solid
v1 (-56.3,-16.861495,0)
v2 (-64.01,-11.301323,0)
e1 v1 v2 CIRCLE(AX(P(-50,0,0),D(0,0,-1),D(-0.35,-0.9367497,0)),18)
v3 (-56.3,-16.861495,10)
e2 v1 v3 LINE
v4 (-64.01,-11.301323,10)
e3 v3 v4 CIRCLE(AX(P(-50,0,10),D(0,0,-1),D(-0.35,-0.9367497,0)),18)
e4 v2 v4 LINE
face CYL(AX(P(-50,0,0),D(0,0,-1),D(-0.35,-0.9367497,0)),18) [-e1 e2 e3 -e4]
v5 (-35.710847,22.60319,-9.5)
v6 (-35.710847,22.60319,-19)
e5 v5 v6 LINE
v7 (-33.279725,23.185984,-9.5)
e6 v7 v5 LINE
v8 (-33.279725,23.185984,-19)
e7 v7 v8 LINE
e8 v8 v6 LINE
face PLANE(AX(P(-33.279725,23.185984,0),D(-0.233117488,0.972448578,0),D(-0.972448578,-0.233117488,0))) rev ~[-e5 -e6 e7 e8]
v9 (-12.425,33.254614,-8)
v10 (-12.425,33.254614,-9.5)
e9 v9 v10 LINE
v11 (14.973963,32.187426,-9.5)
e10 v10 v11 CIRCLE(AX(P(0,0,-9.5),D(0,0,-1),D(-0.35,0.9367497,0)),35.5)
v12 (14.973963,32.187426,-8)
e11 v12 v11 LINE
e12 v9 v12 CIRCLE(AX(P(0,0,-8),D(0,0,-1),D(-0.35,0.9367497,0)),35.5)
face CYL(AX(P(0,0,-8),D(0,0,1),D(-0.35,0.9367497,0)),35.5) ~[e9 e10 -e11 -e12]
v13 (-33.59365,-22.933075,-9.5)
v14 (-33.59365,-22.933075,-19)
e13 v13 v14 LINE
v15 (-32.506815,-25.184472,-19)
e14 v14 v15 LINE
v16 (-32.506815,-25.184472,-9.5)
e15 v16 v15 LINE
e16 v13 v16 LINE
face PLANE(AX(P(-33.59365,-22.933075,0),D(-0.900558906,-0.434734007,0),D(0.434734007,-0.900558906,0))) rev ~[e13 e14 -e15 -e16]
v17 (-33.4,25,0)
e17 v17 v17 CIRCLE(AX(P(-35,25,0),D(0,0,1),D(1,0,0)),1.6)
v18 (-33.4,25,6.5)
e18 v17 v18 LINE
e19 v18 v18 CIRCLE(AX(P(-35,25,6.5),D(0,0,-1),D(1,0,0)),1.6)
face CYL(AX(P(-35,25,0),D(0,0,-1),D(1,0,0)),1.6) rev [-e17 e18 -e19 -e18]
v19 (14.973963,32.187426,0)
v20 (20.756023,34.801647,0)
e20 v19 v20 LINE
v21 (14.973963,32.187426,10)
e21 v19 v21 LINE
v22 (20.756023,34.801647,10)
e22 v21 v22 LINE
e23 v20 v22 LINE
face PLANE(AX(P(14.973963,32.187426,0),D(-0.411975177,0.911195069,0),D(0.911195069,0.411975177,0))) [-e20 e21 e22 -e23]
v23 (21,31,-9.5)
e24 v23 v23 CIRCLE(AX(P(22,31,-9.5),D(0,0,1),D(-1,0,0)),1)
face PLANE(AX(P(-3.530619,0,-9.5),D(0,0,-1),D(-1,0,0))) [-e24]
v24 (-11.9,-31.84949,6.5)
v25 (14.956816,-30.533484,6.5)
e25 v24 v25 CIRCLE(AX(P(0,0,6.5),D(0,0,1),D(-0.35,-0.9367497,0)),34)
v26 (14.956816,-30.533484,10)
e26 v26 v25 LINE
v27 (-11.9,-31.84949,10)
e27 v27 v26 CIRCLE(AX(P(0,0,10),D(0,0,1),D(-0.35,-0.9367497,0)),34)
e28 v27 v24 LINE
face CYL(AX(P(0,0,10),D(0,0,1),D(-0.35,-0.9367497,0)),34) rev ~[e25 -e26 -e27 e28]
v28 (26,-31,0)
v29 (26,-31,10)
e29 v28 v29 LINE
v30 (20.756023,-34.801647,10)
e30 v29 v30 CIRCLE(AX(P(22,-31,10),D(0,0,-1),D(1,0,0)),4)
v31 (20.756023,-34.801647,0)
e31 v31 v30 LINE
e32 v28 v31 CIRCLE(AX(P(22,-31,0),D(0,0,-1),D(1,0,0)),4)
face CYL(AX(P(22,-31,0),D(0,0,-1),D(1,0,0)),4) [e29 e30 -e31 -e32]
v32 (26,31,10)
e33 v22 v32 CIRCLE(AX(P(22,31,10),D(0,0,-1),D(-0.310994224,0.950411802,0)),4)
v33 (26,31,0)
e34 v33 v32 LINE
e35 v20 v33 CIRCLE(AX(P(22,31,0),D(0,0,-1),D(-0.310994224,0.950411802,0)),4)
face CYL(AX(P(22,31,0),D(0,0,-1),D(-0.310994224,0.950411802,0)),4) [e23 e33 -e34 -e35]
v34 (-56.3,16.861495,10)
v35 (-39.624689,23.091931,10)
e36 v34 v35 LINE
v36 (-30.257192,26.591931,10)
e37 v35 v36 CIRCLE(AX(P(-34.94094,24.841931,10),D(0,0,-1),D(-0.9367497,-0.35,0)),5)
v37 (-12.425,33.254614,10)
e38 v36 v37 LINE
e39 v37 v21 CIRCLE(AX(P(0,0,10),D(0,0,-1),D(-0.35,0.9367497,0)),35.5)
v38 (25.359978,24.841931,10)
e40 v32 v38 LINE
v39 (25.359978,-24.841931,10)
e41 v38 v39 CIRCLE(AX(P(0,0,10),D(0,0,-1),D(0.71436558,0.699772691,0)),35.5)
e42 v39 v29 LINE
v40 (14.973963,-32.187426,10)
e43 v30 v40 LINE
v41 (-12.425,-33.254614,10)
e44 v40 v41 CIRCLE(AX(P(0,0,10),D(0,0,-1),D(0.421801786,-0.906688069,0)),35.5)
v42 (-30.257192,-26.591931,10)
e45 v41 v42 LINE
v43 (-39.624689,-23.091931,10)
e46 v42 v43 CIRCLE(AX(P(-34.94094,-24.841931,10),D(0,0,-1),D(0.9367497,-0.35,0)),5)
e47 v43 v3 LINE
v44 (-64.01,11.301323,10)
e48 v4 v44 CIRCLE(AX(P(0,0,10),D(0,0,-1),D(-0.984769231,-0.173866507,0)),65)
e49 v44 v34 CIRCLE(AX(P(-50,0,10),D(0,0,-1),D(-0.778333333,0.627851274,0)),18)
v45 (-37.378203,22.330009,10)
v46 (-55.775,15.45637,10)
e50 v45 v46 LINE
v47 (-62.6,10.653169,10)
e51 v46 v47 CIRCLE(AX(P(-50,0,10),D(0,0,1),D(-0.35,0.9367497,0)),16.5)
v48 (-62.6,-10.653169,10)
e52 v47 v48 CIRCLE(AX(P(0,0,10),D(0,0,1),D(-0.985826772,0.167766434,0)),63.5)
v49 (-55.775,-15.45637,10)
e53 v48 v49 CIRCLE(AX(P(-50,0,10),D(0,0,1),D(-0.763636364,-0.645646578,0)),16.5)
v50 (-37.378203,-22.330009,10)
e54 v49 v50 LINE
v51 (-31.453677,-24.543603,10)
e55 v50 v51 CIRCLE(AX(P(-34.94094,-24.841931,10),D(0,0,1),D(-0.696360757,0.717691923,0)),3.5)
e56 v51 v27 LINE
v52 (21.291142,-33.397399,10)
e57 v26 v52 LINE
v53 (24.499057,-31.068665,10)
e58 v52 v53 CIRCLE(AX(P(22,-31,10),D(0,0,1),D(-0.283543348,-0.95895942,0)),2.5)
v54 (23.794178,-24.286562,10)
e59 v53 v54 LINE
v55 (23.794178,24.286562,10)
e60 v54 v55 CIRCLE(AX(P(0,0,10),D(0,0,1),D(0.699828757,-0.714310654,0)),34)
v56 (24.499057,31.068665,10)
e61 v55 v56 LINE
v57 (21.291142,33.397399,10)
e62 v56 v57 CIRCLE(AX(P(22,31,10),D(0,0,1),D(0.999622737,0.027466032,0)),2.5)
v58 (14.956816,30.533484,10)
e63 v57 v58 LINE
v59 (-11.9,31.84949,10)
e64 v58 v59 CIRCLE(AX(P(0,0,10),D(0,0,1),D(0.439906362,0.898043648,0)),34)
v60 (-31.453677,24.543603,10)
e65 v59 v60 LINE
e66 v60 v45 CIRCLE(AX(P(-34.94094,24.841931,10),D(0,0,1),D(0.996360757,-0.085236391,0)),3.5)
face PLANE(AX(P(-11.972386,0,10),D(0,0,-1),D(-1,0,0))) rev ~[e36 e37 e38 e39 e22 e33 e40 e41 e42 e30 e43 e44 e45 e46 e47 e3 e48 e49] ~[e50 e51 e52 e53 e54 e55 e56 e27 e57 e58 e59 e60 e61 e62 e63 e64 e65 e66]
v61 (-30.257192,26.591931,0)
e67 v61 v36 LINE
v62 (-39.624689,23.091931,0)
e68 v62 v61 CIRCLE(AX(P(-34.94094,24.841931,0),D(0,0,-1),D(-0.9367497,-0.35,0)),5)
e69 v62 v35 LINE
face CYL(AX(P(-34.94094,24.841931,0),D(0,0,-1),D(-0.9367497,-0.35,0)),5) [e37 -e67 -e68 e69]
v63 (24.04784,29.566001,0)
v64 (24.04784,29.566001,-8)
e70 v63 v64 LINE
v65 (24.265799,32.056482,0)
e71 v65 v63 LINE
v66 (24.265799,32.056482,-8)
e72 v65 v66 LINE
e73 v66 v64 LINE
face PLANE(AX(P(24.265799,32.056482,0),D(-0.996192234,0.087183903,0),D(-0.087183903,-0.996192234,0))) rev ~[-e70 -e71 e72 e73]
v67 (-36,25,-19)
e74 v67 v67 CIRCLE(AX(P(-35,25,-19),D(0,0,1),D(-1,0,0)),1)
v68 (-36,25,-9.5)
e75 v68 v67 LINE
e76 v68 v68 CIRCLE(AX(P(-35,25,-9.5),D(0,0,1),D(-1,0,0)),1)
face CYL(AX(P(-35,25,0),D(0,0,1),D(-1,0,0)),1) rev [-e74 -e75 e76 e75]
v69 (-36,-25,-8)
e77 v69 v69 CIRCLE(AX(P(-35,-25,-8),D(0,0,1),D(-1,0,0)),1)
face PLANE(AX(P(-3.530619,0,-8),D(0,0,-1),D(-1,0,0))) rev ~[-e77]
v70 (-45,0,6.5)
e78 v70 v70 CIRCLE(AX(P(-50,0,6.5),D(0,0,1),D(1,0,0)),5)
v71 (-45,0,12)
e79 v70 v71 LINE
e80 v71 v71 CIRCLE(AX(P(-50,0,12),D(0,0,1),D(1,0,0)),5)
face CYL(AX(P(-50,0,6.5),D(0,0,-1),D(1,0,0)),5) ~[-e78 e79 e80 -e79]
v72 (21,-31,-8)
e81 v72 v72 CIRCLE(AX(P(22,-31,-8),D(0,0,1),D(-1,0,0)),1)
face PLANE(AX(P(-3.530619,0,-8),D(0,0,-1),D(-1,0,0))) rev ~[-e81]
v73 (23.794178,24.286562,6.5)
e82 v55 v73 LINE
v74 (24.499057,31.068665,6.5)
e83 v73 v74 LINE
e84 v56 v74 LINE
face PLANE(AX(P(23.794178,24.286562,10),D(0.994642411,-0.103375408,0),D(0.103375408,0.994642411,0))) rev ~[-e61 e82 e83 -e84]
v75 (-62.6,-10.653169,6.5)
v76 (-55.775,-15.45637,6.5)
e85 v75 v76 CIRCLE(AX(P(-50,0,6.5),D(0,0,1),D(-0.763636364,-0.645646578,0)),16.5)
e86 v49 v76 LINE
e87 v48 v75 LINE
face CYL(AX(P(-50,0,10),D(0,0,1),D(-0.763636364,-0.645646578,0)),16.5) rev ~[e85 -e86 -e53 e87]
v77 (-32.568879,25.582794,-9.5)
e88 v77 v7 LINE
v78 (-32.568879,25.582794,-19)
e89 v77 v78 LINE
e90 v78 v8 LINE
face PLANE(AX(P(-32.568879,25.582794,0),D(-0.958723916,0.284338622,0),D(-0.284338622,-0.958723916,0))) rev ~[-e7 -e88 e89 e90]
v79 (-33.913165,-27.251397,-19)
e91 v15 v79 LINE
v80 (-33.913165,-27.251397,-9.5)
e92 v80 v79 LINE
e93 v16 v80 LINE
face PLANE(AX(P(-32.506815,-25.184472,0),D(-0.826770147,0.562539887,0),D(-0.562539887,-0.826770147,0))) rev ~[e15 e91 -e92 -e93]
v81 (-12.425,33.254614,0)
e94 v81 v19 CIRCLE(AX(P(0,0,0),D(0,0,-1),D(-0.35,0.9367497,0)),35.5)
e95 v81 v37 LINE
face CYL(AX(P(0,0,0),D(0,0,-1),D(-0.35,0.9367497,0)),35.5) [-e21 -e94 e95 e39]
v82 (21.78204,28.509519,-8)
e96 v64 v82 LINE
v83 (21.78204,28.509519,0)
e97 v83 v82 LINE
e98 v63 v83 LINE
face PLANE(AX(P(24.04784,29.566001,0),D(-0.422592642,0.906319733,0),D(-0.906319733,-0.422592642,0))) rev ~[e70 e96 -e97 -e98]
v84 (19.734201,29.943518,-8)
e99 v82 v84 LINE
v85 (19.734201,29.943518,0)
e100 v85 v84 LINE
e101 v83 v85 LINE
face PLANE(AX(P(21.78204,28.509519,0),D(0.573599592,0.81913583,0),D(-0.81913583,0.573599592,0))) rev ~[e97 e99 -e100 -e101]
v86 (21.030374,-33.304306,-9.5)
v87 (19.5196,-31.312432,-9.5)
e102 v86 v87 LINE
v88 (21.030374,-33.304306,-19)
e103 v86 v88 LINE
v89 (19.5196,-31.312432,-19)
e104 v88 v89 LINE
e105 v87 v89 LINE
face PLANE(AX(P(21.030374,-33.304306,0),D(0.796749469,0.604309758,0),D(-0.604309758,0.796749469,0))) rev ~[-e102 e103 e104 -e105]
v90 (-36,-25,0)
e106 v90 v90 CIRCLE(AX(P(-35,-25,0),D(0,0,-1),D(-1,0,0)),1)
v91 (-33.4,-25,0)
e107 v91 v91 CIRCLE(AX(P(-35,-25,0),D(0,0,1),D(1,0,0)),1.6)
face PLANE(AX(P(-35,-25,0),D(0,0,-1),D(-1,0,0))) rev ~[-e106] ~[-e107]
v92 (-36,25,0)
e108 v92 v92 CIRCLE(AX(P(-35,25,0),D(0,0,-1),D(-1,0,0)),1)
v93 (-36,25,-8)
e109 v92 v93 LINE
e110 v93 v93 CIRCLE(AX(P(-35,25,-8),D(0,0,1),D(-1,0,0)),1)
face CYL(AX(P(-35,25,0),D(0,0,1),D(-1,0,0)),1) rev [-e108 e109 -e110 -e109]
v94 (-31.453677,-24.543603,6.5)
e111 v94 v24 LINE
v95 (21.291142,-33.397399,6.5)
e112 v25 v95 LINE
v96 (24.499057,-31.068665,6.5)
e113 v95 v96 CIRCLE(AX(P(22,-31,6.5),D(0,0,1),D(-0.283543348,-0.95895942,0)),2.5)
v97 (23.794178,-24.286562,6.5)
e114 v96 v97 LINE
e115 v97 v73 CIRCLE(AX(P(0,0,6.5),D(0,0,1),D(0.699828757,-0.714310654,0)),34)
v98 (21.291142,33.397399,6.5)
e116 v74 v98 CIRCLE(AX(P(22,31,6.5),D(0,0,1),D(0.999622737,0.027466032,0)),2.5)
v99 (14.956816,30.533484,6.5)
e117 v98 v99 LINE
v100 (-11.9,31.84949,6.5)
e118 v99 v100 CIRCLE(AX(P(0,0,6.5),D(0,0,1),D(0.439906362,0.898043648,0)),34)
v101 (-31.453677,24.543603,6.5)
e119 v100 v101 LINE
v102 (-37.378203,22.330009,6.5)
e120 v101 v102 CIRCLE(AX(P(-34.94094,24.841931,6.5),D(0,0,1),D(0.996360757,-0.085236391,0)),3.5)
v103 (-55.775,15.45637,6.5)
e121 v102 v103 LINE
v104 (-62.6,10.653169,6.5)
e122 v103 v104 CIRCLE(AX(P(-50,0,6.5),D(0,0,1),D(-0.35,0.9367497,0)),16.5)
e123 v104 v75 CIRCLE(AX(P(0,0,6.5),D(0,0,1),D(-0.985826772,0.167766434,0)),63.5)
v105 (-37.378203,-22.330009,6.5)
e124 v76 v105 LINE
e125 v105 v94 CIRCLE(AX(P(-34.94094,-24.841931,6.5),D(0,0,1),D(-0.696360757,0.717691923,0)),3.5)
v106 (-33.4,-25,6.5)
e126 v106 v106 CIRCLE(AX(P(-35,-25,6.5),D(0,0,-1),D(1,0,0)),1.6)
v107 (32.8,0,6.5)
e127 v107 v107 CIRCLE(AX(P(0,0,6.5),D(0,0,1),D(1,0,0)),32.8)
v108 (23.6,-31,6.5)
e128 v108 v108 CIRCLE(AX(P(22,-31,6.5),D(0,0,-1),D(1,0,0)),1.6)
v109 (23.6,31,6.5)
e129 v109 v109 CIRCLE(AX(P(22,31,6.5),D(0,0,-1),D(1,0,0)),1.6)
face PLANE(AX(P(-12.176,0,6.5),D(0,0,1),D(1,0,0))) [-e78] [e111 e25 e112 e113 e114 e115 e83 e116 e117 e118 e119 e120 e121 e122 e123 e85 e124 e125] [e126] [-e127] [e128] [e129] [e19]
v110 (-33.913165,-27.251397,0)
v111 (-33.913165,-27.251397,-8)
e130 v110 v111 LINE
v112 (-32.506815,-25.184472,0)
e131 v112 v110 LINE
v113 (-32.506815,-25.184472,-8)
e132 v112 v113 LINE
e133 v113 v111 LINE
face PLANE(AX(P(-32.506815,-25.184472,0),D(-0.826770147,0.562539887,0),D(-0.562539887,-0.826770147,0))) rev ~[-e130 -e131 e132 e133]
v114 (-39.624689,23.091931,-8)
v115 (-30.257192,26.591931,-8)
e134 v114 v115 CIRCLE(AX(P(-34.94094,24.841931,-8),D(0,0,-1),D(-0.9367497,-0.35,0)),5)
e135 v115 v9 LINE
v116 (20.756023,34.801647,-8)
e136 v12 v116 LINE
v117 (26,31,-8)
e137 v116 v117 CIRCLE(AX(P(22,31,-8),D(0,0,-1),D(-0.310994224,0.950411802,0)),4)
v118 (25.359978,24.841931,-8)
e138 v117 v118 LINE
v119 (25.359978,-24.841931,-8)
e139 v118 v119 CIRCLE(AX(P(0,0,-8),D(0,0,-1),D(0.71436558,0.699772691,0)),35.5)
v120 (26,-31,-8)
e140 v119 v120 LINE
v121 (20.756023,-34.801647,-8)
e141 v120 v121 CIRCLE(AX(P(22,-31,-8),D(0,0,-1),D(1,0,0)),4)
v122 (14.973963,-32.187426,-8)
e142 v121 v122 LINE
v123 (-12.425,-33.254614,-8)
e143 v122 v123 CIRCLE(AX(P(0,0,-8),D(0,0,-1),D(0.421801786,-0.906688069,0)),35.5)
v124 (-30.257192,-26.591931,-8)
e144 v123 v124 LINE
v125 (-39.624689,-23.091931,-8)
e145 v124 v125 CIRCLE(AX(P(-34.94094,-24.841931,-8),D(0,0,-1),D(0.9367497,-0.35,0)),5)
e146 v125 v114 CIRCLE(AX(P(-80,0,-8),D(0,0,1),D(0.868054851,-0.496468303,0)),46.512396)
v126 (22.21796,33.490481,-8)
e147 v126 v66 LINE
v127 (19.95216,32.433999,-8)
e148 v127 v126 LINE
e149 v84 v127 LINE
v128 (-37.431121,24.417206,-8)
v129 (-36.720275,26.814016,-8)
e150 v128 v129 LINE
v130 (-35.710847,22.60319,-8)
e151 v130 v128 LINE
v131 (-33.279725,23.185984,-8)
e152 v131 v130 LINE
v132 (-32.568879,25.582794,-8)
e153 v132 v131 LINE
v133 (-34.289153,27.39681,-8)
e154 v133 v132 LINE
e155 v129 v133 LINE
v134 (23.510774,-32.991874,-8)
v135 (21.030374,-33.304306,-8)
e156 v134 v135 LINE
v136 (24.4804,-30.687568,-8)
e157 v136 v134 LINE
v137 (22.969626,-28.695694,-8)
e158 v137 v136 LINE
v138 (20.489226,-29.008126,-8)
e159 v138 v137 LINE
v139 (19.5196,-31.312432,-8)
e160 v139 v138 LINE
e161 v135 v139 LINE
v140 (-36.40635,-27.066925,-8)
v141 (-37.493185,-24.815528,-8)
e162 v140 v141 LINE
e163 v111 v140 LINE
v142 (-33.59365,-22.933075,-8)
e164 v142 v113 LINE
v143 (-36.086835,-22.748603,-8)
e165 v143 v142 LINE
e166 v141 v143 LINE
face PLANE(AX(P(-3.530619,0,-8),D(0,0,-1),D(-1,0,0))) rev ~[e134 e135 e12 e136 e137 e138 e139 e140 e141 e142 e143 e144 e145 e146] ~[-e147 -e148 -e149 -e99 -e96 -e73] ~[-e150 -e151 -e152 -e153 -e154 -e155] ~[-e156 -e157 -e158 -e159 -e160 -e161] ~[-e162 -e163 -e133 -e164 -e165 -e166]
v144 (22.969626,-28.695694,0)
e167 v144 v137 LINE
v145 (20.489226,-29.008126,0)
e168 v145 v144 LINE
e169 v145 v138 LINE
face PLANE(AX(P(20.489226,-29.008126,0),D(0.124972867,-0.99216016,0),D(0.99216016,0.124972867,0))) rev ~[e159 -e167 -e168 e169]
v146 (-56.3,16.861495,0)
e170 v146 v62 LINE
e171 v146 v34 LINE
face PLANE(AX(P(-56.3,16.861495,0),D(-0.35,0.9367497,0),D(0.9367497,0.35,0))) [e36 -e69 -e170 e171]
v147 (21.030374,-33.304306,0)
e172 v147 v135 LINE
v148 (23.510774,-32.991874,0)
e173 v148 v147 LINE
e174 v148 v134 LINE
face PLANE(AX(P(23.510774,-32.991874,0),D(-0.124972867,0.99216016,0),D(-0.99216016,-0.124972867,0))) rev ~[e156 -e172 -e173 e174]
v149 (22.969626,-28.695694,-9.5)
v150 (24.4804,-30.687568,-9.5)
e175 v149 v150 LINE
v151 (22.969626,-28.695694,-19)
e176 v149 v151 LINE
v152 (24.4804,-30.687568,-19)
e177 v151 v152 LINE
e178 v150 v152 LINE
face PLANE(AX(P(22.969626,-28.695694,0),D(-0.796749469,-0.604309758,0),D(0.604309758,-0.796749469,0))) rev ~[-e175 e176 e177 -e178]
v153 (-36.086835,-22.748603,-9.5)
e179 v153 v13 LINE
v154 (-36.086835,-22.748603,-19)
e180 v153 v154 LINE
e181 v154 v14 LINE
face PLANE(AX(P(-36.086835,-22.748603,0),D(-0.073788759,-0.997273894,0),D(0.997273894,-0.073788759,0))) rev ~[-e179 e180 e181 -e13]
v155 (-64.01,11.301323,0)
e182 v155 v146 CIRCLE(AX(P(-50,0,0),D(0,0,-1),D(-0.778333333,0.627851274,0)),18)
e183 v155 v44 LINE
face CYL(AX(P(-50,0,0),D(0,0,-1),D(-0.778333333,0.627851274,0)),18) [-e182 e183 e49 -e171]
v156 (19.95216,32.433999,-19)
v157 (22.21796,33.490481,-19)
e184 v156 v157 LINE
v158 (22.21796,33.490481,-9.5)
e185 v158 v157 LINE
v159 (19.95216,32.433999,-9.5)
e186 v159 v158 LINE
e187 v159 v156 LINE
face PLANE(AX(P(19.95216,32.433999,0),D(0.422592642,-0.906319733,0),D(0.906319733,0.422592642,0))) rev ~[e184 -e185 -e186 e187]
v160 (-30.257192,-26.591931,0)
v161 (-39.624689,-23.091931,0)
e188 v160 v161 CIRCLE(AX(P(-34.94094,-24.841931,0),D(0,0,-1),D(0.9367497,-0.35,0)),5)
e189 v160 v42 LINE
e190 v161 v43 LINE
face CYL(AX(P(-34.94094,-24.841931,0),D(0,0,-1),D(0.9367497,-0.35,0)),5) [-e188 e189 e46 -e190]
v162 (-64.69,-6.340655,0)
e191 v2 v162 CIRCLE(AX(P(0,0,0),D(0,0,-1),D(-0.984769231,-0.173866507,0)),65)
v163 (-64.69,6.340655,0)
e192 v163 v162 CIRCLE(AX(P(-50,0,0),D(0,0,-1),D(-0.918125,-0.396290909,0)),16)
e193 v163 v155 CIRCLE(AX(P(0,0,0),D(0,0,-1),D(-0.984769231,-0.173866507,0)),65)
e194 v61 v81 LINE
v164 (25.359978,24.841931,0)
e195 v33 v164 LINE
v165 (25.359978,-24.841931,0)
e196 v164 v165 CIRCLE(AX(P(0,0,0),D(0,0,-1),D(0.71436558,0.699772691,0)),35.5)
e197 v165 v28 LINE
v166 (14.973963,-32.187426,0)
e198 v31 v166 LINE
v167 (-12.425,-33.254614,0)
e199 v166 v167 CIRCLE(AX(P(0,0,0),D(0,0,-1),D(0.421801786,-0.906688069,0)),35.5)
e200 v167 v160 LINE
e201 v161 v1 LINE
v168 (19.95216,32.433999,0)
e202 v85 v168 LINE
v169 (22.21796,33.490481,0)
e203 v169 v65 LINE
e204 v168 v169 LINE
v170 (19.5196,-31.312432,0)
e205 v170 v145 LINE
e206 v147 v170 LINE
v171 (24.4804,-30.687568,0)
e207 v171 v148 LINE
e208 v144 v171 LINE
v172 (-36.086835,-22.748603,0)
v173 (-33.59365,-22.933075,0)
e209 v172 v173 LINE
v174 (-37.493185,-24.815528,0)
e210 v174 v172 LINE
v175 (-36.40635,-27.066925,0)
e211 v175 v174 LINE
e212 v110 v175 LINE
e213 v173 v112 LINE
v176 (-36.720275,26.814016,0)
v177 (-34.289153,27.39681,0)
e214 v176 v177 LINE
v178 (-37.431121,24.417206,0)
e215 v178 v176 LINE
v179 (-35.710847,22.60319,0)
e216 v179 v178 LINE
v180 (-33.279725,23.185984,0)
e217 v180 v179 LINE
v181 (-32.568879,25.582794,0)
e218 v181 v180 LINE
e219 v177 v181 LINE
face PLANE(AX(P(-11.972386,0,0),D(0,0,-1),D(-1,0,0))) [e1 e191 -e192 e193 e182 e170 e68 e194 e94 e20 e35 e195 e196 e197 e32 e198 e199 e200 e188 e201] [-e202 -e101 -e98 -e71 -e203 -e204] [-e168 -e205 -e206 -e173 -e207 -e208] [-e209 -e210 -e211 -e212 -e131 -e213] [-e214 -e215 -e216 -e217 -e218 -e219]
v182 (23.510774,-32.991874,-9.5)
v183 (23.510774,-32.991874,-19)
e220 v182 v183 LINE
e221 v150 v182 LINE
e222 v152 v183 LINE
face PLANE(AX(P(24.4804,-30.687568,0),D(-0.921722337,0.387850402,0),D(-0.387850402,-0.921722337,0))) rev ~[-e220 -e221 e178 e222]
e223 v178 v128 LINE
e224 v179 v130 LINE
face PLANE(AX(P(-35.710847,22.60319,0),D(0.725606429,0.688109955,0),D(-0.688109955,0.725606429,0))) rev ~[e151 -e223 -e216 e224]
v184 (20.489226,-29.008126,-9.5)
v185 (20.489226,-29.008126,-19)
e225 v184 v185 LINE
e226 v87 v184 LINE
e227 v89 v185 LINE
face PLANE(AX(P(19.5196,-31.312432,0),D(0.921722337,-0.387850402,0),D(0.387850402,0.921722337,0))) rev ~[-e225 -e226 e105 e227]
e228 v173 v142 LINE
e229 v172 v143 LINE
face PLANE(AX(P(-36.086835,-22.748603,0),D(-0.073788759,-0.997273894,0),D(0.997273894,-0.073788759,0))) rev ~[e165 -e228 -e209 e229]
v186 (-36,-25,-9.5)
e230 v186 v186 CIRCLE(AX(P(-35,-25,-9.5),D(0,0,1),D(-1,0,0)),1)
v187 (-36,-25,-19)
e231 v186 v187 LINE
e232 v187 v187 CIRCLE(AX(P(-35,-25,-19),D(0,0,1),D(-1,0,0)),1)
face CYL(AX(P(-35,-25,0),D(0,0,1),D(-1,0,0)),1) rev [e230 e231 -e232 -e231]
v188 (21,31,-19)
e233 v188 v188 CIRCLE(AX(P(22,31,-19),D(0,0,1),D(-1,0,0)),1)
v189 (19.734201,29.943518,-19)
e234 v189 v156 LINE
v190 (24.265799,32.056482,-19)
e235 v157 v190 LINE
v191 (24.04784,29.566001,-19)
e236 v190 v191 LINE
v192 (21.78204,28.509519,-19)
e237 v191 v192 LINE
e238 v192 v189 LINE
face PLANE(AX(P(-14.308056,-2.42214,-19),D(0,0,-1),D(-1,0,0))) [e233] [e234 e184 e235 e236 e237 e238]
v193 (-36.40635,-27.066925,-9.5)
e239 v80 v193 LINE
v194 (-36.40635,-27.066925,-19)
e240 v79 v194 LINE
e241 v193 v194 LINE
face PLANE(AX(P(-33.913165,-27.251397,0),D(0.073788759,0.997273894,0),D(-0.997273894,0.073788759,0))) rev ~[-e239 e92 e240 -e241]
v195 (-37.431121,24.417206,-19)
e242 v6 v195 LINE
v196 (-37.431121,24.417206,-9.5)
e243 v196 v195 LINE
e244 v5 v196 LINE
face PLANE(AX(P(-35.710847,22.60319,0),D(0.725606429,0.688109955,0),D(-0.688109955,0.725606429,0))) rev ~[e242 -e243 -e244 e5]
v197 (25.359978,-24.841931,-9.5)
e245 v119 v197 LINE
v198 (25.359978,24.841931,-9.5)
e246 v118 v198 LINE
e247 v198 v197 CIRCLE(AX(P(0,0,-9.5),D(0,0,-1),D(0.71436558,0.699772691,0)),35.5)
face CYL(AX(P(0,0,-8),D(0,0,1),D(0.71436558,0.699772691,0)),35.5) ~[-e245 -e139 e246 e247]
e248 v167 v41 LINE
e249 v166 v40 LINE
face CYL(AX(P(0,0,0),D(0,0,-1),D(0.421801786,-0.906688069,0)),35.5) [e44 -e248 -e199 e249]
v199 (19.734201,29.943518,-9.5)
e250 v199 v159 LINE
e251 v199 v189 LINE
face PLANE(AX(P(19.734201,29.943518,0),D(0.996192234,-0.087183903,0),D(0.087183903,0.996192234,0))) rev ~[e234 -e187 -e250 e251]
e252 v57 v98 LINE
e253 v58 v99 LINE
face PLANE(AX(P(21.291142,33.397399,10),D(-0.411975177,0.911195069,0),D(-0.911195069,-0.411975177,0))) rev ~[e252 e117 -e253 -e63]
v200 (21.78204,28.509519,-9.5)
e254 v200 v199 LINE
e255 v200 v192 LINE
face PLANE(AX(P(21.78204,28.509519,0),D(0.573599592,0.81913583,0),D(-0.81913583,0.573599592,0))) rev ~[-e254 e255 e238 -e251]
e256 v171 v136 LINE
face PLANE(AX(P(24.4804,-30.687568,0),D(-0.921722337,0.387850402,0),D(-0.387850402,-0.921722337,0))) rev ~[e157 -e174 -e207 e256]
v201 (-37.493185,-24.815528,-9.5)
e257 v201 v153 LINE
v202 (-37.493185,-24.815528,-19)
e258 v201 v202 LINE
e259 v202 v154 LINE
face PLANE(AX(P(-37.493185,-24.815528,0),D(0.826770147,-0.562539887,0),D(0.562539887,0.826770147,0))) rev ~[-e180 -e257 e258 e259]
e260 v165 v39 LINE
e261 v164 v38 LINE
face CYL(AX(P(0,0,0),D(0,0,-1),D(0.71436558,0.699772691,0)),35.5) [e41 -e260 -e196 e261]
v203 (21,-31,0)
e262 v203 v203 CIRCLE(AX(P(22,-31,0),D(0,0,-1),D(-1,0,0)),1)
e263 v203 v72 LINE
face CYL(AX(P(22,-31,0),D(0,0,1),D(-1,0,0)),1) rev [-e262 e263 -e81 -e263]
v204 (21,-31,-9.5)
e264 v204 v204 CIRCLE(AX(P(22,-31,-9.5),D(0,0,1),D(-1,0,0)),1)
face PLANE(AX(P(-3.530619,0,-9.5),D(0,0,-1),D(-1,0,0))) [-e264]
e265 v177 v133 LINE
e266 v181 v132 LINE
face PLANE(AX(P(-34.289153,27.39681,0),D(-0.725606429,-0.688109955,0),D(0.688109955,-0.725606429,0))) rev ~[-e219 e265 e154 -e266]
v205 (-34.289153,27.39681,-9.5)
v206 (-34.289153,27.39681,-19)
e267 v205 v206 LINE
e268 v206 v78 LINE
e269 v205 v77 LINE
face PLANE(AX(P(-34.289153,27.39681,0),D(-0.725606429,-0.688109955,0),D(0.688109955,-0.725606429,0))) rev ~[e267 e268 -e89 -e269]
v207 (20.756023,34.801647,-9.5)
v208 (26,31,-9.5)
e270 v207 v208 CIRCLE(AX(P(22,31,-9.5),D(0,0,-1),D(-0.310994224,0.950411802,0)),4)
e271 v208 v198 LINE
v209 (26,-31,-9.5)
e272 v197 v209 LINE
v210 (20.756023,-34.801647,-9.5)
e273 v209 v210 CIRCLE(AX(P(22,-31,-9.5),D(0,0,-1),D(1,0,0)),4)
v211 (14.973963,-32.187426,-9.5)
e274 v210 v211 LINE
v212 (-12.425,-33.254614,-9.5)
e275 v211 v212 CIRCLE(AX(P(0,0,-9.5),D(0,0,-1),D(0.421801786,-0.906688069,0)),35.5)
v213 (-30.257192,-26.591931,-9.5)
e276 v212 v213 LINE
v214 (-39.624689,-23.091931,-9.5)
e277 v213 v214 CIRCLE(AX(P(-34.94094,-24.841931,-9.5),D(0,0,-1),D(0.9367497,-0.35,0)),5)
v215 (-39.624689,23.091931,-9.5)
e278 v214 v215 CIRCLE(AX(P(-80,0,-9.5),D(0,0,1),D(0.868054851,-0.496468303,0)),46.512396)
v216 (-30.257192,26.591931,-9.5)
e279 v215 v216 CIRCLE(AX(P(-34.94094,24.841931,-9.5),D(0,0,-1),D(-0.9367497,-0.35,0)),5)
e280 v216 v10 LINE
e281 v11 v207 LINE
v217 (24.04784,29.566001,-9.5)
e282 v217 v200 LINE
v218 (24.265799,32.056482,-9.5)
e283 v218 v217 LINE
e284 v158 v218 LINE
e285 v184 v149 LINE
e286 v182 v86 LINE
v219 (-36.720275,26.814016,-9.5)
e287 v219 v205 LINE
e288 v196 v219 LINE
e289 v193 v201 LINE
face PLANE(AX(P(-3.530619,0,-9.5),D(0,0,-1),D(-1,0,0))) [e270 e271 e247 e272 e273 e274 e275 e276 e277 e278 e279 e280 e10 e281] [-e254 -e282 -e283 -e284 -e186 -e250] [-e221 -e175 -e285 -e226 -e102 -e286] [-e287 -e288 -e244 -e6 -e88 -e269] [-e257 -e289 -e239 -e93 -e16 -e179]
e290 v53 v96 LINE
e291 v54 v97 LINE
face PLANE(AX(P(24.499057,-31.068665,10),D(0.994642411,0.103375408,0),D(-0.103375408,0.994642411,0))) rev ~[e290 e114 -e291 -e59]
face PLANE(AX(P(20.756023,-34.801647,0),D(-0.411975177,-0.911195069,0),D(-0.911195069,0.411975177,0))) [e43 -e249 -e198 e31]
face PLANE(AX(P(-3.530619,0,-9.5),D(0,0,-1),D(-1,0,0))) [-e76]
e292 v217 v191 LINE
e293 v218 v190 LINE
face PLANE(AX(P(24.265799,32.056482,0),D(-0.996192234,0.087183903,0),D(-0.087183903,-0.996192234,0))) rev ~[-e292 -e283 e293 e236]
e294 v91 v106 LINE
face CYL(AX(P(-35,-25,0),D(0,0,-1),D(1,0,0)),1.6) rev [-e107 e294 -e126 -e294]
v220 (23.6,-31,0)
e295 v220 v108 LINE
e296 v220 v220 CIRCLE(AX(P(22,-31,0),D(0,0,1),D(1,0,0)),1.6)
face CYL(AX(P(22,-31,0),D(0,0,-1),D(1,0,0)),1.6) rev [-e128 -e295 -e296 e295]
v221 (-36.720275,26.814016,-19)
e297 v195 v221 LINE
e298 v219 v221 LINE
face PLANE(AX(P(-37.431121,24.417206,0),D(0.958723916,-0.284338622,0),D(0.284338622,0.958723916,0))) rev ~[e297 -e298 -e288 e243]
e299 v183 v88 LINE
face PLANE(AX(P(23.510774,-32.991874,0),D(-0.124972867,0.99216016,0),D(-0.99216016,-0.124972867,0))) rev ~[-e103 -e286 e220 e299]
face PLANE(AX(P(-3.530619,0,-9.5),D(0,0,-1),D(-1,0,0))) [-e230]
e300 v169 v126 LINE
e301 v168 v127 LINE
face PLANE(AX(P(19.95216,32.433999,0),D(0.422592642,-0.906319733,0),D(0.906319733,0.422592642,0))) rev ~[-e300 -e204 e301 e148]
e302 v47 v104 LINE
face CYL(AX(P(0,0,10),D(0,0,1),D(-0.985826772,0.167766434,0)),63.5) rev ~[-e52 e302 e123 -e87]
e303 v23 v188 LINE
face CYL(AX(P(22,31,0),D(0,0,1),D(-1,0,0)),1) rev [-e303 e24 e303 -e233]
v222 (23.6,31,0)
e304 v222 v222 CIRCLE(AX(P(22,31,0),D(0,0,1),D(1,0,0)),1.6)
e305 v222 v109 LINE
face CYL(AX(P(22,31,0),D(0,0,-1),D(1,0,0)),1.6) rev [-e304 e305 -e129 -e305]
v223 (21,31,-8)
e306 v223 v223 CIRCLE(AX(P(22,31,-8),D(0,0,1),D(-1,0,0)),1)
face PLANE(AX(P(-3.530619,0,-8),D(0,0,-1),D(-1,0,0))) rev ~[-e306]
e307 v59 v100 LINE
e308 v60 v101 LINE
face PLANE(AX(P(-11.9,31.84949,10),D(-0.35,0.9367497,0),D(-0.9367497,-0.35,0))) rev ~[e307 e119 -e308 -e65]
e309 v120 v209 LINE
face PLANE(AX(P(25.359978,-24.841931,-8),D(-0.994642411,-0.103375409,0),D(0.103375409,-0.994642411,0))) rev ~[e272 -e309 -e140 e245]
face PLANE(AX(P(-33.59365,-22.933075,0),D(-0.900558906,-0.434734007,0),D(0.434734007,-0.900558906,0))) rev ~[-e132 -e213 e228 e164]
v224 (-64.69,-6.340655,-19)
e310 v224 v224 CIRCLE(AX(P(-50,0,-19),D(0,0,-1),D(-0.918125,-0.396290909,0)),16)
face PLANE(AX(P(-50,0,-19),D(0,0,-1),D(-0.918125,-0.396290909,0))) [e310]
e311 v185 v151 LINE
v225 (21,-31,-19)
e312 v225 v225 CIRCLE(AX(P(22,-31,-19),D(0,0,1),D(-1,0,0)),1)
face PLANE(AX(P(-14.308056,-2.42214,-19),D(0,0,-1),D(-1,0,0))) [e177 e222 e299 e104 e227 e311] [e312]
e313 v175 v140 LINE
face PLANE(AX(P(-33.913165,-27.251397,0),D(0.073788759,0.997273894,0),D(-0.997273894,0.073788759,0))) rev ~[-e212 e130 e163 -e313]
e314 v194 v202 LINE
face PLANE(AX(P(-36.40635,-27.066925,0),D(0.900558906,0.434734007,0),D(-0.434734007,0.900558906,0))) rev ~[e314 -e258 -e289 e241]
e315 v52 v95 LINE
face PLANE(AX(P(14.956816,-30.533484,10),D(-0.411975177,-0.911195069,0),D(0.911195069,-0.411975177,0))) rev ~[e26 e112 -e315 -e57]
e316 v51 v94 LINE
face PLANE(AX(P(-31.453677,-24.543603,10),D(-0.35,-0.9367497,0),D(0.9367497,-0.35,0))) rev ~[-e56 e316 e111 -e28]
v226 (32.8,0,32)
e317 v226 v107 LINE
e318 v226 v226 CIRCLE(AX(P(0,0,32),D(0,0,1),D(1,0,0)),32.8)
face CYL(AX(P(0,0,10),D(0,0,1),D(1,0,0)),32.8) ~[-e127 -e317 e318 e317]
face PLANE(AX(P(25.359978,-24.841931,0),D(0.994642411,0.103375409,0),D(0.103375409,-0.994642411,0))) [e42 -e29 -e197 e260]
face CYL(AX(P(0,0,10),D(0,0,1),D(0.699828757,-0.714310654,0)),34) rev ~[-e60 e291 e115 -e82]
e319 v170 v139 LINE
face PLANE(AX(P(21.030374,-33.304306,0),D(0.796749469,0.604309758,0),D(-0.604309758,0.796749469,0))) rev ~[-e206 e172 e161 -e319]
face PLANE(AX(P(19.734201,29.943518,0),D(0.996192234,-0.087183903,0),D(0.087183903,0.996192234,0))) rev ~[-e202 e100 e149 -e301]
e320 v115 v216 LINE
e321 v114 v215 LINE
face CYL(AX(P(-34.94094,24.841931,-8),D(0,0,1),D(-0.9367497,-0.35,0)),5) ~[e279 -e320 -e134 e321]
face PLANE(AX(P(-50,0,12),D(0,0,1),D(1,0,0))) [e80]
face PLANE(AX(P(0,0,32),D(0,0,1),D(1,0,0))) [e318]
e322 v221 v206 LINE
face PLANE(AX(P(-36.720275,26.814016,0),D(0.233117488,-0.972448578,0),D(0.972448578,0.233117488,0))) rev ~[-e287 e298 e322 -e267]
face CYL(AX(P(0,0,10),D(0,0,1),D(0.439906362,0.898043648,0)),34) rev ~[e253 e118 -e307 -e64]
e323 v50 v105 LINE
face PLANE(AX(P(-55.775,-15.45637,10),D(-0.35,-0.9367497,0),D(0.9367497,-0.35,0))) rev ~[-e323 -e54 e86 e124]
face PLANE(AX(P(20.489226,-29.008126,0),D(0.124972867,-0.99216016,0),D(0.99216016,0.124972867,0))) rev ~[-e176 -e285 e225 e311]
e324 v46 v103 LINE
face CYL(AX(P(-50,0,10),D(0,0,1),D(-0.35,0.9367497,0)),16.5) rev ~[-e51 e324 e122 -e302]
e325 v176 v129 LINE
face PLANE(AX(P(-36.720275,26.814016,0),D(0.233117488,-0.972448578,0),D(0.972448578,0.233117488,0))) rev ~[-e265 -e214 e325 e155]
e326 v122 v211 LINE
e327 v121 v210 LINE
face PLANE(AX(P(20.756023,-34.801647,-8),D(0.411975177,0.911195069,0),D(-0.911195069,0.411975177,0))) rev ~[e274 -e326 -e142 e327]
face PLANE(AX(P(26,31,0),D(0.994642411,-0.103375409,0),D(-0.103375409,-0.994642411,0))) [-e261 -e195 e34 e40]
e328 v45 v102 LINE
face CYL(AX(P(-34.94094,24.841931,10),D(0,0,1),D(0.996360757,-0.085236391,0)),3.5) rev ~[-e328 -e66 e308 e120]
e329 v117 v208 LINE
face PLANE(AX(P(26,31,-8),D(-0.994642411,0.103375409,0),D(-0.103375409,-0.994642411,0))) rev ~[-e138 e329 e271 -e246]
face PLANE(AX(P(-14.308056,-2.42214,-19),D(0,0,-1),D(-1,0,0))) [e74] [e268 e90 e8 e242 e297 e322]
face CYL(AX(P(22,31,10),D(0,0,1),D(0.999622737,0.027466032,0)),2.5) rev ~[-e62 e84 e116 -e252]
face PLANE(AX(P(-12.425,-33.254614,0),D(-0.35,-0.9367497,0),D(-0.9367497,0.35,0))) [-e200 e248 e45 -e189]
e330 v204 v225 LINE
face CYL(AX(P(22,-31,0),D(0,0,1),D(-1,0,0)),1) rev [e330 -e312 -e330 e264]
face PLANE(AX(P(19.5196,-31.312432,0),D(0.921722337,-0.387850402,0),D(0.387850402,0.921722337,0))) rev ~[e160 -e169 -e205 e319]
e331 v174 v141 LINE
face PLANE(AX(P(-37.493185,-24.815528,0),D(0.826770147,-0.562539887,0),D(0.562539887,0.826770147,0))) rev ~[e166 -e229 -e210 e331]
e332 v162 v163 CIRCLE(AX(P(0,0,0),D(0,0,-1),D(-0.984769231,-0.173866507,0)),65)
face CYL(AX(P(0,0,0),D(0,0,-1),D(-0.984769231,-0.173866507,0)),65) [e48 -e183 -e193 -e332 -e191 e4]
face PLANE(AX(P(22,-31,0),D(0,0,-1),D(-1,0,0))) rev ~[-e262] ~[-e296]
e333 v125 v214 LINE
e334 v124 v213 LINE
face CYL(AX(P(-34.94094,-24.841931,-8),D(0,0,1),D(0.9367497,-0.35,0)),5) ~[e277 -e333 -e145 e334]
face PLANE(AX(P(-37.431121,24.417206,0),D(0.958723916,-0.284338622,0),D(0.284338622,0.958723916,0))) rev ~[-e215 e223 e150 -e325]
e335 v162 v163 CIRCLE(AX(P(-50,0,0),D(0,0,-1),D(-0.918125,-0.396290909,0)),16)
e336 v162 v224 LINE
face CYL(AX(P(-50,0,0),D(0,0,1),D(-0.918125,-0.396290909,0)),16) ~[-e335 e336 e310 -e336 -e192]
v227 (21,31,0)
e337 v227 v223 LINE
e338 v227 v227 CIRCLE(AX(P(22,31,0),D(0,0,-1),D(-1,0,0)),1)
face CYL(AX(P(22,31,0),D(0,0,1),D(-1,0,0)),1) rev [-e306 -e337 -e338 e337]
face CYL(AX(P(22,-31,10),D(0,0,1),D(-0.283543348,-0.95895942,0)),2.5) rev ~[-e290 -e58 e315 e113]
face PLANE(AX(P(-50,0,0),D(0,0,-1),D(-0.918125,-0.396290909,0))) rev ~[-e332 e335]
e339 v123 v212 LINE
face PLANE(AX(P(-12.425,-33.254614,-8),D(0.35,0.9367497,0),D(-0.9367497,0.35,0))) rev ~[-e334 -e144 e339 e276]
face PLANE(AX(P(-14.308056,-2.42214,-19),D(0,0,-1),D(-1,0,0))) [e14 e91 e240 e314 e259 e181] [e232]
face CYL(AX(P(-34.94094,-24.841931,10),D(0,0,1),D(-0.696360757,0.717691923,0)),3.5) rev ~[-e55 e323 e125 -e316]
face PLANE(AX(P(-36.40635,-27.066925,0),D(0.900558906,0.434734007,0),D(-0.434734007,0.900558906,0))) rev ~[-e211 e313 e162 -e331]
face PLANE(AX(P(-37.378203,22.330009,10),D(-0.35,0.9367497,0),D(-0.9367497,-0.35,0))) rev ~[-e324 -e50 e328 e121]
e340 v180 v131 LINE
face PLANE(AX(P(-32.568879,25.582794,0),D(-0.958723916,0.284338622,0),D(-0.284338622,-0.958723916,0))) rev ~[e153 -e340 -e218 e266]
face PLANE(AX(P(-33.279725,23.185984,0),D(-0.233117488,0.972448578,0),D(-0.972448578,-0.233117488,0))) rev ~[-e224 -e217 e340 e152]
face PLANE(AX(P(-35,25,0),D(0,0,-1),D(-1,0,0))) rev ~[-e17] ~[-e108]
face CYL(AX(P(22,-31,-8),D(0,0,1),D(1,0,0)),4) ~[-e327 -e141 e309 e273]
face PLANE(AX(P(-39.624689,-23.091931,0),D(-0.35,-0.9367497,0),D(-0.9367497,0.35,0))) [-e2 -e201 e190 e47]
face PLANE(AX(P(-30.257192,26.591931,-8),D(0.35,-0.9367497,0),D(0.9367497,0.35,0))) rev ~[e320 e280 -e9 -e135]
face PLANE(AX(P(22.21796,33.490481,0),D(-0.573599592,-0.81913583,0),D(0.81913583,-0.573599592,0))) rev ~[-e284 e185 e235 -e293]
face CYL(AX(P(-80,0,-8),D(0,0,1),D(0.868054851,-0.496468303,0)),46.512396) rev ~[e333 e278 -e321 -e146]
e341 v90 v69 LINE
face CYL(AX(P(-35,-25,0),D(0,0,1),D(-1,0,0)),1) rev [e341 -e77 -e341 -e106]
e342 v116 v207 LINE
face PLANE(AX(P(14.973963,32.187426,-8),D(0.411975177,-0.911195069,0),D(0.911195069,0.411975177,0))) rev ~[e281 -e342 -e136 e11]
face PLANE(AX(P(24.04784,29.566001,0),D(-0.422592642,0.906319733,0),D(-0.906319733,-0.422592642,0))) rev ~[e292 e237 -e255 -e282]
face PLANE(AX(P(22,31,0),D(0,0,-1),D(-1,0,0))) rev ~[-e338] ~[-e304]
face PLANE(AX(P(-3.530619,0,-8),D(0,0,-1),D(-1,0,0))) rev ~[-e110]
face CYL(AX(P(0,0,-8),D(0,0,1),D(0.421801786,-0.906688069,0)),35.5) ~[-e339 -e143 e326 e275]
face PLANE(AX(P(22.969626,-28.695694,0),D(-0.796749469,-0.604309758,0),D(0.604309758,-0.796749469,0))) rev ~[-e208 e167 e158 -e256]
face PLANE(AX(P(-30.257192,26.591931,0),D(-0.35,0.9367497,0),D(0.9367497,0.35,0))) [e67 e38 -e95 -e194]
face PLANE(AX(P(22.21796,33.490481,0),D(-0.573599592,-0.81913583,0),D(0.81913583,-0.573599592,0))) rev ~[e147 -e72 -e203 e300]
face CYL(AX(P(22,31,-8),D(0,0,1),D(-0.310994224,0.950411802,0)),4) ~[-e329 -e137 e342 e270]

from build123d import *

# Parameters (mm, degrees)
ESQUISSE1_R             = 1.6
BOSS_EXTRU_1_DEPTH      = 10
ESQUISSE2_R             = 32.8
BOSS_EXTRU_2_DEPTH      = 22
ENL_V_MAT_EXTRU_1_DEPTH = 3.5
BOSS_EXTRU_3_REACH      = 79.261
ESQUISSE4_R             = 32.8
ESQUISSE5_R             = 16
BOSS_EXTRU_4_DEPTH      = 19
ESQUISSE6_R             = 1
BOSS_EXTRU_5_DEPTH      = 27
BOSS_EXTRU_6_DEPTH      = 1.5
ESQUISSE8_R             = 5
BOSS_EXTRU_7_DEPTH      = 5.5
SKETCH_1_W              = 183.813547174
SKETCH_1_H              = 124.067416174
CUT_EXTRUDE_1_DEPTH     = 18


with BuildPart() as part:
    # Esquisse1 → Boss.-Extru.1 (new body)
    with BuildSketch(Plane.XY):
        with BuildLine():
            ThreePointArc((-56.3, -16.861494596), (-60.528670487, -14.599558136), (-64.01, -11.301322931))
            ThreePointArc((-64.01, -11.301322931), (-65, 0), (-64.01, 11.301322931))
            ThreePointArc((-64.01, 11.301322931), (-60.528670487, 14.599558136), (-56.3, 16.861494596))
            Line((-56.3, 16.861494596), (-39.624688626, 23.091930519))
            ThreePointArc((-39.624688626, 23.091930519), (-36.690940127, 29.525679018), (-30.257191628, 26.591930519))
            Line((-30.257191628, 26.591930519), (-12.425, 33.254614341))
            ThreePointArc((-12.425, 33.254614341), (1.381675102, 35.473102119), (14.973963383, 32.187426436))
            Line((14.973963383, 32.187426436), (20.756023105, 34.801647207))
            ThreePointArc((20.756023105, 34.801647207), (24.347774736, 34.238511045), (26, 31))
            Line((26, 31), (25.359978077, 24.841930519))
            ThreePointArc((25.359978077, 24.841930519), (35.5, 0), (25.359978077, -24.841930519))
            Line((25.359978077, -24.841930519), (26, -31))
            ThreePointArc((26, -31), (24.347774736, -34.238511045), (20.756023105, -34.801647207))
            Line((20.756023105, -34.801647207), (14.973963383, -32.187426436))
            ThreePointArc((14.973963383, -32.187426436), (1.381675102, -35.473102119), (-12.425, -33.254614341))
            Line((-12.425, -33.254614341), (-30.257191628, -26.591930519))
            ThreePointArc((-30.257191628, -26.591930519), (-36.690940127, -29.525679018), (-39.624688626, -23.091930519))
            Line((-39.624688626, -23.091930519), (-56.3, -16.861494596))
        make_face()
        with Locations((-35, -25)):
            Circle(ESQUISSE1_R, mode=Mode.SUBTRACT)
        with Locations((22, 31)):
            Circle(ESQUISSE1_R, mode=Mode.SUBTRACT)
        with Locations((-35, 25)):
            Circle(ESQUISSE1_R, mode=Mode.SUBTRACT)
        with Locations((22, -31)):
            Circle(ESQUISSE1_R, mode=Mode.SUBTRACT)
    extrude(amount=BOSS_EXTRU_1_DEPTH)

    # Esquisse2 → Boss.-Extru.2 (add)
    with BuildSketch(Plane.XY.offset(10)):
        Circle(ESQUISSE2_R)
    extrude(amount=BOSS_EXTRU_2_DEPTH)

    # Esquisse3 → Enlèv. mat.-Extru.1 (cut)
    with BuildSketch(Plane.XY.offset(10)):
        with BuildLine():
            Line((-55.775, -15.456370046), (-37.378202776, -22.330008789))
            ThreePointArc((-37.378202776, -22.330008789), (-36.165940127, -28.120554469), (-31.453677478, -24.543603151))
            Line((-31.453677478, -24.543603151), (-11.9, -31.849489792))
            ThreePointArc((-11.9, -31.849489792), (1.664031028, -33.959255009), (14.956816294, -30.533484019))
            Line((14.956816294, -30.533484019), (21.291141631, -33.397398551))
            ThreePointArc((21.291141631, -33.397398551), (23.468656713, -33.023128137), (24.499056843, -31.06866508))
            Line((24.499056843, -31.06866508), (23.79417774, -24.286562245))
            ThreePointArc((23.79417774, -24.286562245), (34, 0), (23.79417774, 24.286562245))
            Line((23.79417774, 24.286562245), (24.499056843, 31.06866508))
            ThreePointArc((24.499056843, 31.06866508), (23.468656713, 33.023128137), (21.291141631, 33.397398551))
            Line((21.291141631, 33.397398551), (14.956816294, 30.533484019))
            ThreePointArc((14.956816294, 30.533484019), (1.664031028, 33.959255009), (-11.9, 31.849489792))
            Line((-11.9, 31.849489792), (-31.453677478, 24.543603151))
            ThreePointArc((-31.453677478, 24.543603151), (-36.165940127, 28.120554469), (-37.378202776, 22.330008789))
            Line((-37.378202776, 22.330008789), (-55.775, 15.456370046))
            ThreePointArc((-55.775, 15.456370046), (-59.496201473, 13.493411636), (-62.6, 10.653168543))
            ThreePointArc((-62.6, 10.653168543), (-63.5, 0), (-62.6, -10.653168543))
            ThreePointArc((-62.6, -10.653168543), (-59.496201473, -13.493411636), (-55.775, -15.456370046))
        make_face()
    extrude(amount=-ENL_V_MAT_EXTRU_1_DEPTH, mode=Mode.SUBTRACT)


with BuildPart() as enl_v_mat_extru_1_piece_1:
    # of the separate pieces the step leaves, piece 1, a body of its own (enl_v_mat_extru_1_pieces)
    add(part.part.solids().sort_by_distance((32.8, 0, 10))[0])


with BuildPart() as enl_v_mat_extru_1_piece_2:
    # of the separate pieces the step leaves, piece 2, a body of its own (enl_v_mat_extru_1_pieces)
    add(part.part.solids().sort_by_distance((-64.01, 11.301322931, 0))[0])

    # Esquisse4 → Boss.-Extru.3 (add, up to next)
    with BuildSketch(Plane(origin=(0, 0, 10), x_dir=(-1, 0, 0), z_dir=(0, 0, -1)), mode=Mode.PRIVATE) as boss_extru_3_sk1:
        with Locations(Location((0, 0, 0), (0, 0, 180))):
            Circle(ESQUISSE4_R)
    boss_extru_3_tool1 = extrude(boss_extru_3_sk1.sketch, amount=BOSS_EXTRU_3_REACH, mode=Mode.PRIVATE) - enl_v_mat_extru_1_piece_2.part

    add(enl_v_mat_extru_1_piece_1.part)  # Boss.-Extru.3 merges Enlèv. mat.-Extru.1 piece 1
    add(boss_extru_3_tool1.solids().sort_by_distance((0, 0, 10))[0])

    # Esquisse5 → Boss.-Extru.4 (add)
    with BuildSketch(Plane(origin=(0, 0, 0), x_dir=(-1, 0, 0), z_dir=(0, 0, -1))):
        with Locations(Location((50, 0, 0), (0, 0, 336.653490915))):
            Circle(ESQUISSE5_R)
    extrude(amount=BOSS_EXTRU_4_DEPTH)

    # Esquisse6 → Boss.-Extru.5 (add)
    # profile 1 of 4: a face of its own
    with BuildSketch(Plane(origin=(0, 0, 0), x_dir=(-1, 0, 0), z_dir=(0, 0, -1))):
        Polygon((-20.489225606, -29.008126327), (-22.969626005, -28.695694159), (-24.480400399, -30.687567832), (-23.510774394, -32.991873673), (-21.030373995, -33.304305841), (-19.519599601, -31.312432168), align=None)
        with Locations((-22, -31)):
            Circle(ESQUISSE6_R, mode=Mode.SUBTRACT)
    # profile 2 of 4: a face of its own
    with BuildSketch(Plane(origin=(0, 0, 0), x_dir=(-1, 0, 0), z_dir=(0, 0, -1))):
        Polygon((36.086835018, -22.748602735), (33.593650283, -22.933074633), (32.506815266, -25.184471898), (33.913164982, -27.251397265), (36.406349717, -27.066925367), (37.493184734, -24.815528102), align=None)
        with Locations((35, -25)):
            Circle(ESQUISSE6_R, mode=Mode.SUBTRACT)
    # profile 3 of 4: a face of its own
    with BuildSketch(Plane(origin=(0, 0, 0), x_dir=(-1, 0, 0), z_dir=(0, 0, -1))):
        Polygon((36.720274889, 26.814016072), (34.289153443, 27.396809791), (32.568878555, 25.582793719), (33.279725111, 23.185983928), (35.710846557, 22.603190209), (37.431121445, 24.417206281), align=None)
        with Locations((35, 25)):
            Circle(ESQUISSE6_R, mode=Mode.SUBTRACT)
    # profile 4 of 4: a face of its own
    with BuildSketch(Plane(origin=(0, 0, 0), x_dir=(-1, 0, 0), z_dir=(0, 0, -1))):
        Polygon((-19.952160425, 32.43399898), (-22.217959758, 33.490480585), (-24.265799333, 32.056481605), (-24.047839575, 29.56600102), (-21.782040242, 28.509519415), (-19.734200667, 29.943518395), align=None)
        with Locations((-22, 31)):
            Circle(ESQUISSE6_R, mode=Mode.SUBTRACT)
    extrude(amount=BOSS_EXTRU_5_DEPTH)

    # Esquisse7 → Boss.-Extru.6 (add)
    with BuildSketch(Plane(origin=(0, 0, -8), x_dir=(-1, 0, 0), z_dir=(0, 0, -1))):
        with BuildLine():
            Line((30.257191628, 26.591930519), (12.425, 33.254614341))
            ThreePointArc((12.425, 33.254614341), (-1.381675102, 35.473102119), (-14.973963383, 32.187426436))
            Line((-14.973963383, 32.187426436), (-20.756023105, 34.801647207))
            ThreePointArc((-20.756023105, 34.801647207), (-24.347774736, 34.238511045), (-26, 31))
            Line((-26, 31), (-25.359978077, 24.841930519))
            ThreePointArc((-25.359978077, 24.841930519), (-35.5, 0), (-25.359978077, -24.841930519))
            Line((-25.359978077, -24.841930519), (-26, -31))
            ThreePointArc((-26, -31), (-24.347774736, -34.238511045), (-20.756023105, -34.801647207))
            Line((-20.756023105, -34.801647207), (-14.973963383, -32.187426436))
            ThreePointArc((-14.973963383, -32.187426436), (-1.381675102, -35.473102119), (12.425, -33.254614341))
            Line((12.425, -33.254614341), (30.257191628, -26.591930519))
            ThreePointArc((30.257191628, -26.591930519), (36.690940127, -29.525679018), (39.624688626, -23.091930519))
            ThreePointArc((39.624688626, -23.091930519), (33.487603548, 0), (39.624688626, 23.091930519))
            ThreePointArc((39.624688626, 23.091930519), (36.690940127, 29.525679018), (30.257191628, 26.591930519))
        make_face()
    extrude(amount=BOSS_EXTRU_6_DEPTH)

    # Esquisse8 → Boss.-Extru.7 (add)
    with BuildSketch(Plane.XY.offset(6.5)):
        with Locations((-50, 0)):
            Circle(ESQUISSE8_R)
    extrude(amount=BOSS_EXTRU_7_DEPTH)

    # 草图1 → 切除-拉伸1 (cut)
    with BuildSketch(Plane(origin=(0, 0, -19), x_dir=(-1, 0, 0), z_dir=(0, 0, -1))):
        with Locations((14.308056493, -2.422140446)):
            Rectangle(SKETCH_1_W, SKETCH_1_H)
    extrude(amount=CUT_EXTRUDE_1_DEPTH, mode=Mode.SUBTRACT)


solid = enl_v_mat_extru_1_piece_2.part
